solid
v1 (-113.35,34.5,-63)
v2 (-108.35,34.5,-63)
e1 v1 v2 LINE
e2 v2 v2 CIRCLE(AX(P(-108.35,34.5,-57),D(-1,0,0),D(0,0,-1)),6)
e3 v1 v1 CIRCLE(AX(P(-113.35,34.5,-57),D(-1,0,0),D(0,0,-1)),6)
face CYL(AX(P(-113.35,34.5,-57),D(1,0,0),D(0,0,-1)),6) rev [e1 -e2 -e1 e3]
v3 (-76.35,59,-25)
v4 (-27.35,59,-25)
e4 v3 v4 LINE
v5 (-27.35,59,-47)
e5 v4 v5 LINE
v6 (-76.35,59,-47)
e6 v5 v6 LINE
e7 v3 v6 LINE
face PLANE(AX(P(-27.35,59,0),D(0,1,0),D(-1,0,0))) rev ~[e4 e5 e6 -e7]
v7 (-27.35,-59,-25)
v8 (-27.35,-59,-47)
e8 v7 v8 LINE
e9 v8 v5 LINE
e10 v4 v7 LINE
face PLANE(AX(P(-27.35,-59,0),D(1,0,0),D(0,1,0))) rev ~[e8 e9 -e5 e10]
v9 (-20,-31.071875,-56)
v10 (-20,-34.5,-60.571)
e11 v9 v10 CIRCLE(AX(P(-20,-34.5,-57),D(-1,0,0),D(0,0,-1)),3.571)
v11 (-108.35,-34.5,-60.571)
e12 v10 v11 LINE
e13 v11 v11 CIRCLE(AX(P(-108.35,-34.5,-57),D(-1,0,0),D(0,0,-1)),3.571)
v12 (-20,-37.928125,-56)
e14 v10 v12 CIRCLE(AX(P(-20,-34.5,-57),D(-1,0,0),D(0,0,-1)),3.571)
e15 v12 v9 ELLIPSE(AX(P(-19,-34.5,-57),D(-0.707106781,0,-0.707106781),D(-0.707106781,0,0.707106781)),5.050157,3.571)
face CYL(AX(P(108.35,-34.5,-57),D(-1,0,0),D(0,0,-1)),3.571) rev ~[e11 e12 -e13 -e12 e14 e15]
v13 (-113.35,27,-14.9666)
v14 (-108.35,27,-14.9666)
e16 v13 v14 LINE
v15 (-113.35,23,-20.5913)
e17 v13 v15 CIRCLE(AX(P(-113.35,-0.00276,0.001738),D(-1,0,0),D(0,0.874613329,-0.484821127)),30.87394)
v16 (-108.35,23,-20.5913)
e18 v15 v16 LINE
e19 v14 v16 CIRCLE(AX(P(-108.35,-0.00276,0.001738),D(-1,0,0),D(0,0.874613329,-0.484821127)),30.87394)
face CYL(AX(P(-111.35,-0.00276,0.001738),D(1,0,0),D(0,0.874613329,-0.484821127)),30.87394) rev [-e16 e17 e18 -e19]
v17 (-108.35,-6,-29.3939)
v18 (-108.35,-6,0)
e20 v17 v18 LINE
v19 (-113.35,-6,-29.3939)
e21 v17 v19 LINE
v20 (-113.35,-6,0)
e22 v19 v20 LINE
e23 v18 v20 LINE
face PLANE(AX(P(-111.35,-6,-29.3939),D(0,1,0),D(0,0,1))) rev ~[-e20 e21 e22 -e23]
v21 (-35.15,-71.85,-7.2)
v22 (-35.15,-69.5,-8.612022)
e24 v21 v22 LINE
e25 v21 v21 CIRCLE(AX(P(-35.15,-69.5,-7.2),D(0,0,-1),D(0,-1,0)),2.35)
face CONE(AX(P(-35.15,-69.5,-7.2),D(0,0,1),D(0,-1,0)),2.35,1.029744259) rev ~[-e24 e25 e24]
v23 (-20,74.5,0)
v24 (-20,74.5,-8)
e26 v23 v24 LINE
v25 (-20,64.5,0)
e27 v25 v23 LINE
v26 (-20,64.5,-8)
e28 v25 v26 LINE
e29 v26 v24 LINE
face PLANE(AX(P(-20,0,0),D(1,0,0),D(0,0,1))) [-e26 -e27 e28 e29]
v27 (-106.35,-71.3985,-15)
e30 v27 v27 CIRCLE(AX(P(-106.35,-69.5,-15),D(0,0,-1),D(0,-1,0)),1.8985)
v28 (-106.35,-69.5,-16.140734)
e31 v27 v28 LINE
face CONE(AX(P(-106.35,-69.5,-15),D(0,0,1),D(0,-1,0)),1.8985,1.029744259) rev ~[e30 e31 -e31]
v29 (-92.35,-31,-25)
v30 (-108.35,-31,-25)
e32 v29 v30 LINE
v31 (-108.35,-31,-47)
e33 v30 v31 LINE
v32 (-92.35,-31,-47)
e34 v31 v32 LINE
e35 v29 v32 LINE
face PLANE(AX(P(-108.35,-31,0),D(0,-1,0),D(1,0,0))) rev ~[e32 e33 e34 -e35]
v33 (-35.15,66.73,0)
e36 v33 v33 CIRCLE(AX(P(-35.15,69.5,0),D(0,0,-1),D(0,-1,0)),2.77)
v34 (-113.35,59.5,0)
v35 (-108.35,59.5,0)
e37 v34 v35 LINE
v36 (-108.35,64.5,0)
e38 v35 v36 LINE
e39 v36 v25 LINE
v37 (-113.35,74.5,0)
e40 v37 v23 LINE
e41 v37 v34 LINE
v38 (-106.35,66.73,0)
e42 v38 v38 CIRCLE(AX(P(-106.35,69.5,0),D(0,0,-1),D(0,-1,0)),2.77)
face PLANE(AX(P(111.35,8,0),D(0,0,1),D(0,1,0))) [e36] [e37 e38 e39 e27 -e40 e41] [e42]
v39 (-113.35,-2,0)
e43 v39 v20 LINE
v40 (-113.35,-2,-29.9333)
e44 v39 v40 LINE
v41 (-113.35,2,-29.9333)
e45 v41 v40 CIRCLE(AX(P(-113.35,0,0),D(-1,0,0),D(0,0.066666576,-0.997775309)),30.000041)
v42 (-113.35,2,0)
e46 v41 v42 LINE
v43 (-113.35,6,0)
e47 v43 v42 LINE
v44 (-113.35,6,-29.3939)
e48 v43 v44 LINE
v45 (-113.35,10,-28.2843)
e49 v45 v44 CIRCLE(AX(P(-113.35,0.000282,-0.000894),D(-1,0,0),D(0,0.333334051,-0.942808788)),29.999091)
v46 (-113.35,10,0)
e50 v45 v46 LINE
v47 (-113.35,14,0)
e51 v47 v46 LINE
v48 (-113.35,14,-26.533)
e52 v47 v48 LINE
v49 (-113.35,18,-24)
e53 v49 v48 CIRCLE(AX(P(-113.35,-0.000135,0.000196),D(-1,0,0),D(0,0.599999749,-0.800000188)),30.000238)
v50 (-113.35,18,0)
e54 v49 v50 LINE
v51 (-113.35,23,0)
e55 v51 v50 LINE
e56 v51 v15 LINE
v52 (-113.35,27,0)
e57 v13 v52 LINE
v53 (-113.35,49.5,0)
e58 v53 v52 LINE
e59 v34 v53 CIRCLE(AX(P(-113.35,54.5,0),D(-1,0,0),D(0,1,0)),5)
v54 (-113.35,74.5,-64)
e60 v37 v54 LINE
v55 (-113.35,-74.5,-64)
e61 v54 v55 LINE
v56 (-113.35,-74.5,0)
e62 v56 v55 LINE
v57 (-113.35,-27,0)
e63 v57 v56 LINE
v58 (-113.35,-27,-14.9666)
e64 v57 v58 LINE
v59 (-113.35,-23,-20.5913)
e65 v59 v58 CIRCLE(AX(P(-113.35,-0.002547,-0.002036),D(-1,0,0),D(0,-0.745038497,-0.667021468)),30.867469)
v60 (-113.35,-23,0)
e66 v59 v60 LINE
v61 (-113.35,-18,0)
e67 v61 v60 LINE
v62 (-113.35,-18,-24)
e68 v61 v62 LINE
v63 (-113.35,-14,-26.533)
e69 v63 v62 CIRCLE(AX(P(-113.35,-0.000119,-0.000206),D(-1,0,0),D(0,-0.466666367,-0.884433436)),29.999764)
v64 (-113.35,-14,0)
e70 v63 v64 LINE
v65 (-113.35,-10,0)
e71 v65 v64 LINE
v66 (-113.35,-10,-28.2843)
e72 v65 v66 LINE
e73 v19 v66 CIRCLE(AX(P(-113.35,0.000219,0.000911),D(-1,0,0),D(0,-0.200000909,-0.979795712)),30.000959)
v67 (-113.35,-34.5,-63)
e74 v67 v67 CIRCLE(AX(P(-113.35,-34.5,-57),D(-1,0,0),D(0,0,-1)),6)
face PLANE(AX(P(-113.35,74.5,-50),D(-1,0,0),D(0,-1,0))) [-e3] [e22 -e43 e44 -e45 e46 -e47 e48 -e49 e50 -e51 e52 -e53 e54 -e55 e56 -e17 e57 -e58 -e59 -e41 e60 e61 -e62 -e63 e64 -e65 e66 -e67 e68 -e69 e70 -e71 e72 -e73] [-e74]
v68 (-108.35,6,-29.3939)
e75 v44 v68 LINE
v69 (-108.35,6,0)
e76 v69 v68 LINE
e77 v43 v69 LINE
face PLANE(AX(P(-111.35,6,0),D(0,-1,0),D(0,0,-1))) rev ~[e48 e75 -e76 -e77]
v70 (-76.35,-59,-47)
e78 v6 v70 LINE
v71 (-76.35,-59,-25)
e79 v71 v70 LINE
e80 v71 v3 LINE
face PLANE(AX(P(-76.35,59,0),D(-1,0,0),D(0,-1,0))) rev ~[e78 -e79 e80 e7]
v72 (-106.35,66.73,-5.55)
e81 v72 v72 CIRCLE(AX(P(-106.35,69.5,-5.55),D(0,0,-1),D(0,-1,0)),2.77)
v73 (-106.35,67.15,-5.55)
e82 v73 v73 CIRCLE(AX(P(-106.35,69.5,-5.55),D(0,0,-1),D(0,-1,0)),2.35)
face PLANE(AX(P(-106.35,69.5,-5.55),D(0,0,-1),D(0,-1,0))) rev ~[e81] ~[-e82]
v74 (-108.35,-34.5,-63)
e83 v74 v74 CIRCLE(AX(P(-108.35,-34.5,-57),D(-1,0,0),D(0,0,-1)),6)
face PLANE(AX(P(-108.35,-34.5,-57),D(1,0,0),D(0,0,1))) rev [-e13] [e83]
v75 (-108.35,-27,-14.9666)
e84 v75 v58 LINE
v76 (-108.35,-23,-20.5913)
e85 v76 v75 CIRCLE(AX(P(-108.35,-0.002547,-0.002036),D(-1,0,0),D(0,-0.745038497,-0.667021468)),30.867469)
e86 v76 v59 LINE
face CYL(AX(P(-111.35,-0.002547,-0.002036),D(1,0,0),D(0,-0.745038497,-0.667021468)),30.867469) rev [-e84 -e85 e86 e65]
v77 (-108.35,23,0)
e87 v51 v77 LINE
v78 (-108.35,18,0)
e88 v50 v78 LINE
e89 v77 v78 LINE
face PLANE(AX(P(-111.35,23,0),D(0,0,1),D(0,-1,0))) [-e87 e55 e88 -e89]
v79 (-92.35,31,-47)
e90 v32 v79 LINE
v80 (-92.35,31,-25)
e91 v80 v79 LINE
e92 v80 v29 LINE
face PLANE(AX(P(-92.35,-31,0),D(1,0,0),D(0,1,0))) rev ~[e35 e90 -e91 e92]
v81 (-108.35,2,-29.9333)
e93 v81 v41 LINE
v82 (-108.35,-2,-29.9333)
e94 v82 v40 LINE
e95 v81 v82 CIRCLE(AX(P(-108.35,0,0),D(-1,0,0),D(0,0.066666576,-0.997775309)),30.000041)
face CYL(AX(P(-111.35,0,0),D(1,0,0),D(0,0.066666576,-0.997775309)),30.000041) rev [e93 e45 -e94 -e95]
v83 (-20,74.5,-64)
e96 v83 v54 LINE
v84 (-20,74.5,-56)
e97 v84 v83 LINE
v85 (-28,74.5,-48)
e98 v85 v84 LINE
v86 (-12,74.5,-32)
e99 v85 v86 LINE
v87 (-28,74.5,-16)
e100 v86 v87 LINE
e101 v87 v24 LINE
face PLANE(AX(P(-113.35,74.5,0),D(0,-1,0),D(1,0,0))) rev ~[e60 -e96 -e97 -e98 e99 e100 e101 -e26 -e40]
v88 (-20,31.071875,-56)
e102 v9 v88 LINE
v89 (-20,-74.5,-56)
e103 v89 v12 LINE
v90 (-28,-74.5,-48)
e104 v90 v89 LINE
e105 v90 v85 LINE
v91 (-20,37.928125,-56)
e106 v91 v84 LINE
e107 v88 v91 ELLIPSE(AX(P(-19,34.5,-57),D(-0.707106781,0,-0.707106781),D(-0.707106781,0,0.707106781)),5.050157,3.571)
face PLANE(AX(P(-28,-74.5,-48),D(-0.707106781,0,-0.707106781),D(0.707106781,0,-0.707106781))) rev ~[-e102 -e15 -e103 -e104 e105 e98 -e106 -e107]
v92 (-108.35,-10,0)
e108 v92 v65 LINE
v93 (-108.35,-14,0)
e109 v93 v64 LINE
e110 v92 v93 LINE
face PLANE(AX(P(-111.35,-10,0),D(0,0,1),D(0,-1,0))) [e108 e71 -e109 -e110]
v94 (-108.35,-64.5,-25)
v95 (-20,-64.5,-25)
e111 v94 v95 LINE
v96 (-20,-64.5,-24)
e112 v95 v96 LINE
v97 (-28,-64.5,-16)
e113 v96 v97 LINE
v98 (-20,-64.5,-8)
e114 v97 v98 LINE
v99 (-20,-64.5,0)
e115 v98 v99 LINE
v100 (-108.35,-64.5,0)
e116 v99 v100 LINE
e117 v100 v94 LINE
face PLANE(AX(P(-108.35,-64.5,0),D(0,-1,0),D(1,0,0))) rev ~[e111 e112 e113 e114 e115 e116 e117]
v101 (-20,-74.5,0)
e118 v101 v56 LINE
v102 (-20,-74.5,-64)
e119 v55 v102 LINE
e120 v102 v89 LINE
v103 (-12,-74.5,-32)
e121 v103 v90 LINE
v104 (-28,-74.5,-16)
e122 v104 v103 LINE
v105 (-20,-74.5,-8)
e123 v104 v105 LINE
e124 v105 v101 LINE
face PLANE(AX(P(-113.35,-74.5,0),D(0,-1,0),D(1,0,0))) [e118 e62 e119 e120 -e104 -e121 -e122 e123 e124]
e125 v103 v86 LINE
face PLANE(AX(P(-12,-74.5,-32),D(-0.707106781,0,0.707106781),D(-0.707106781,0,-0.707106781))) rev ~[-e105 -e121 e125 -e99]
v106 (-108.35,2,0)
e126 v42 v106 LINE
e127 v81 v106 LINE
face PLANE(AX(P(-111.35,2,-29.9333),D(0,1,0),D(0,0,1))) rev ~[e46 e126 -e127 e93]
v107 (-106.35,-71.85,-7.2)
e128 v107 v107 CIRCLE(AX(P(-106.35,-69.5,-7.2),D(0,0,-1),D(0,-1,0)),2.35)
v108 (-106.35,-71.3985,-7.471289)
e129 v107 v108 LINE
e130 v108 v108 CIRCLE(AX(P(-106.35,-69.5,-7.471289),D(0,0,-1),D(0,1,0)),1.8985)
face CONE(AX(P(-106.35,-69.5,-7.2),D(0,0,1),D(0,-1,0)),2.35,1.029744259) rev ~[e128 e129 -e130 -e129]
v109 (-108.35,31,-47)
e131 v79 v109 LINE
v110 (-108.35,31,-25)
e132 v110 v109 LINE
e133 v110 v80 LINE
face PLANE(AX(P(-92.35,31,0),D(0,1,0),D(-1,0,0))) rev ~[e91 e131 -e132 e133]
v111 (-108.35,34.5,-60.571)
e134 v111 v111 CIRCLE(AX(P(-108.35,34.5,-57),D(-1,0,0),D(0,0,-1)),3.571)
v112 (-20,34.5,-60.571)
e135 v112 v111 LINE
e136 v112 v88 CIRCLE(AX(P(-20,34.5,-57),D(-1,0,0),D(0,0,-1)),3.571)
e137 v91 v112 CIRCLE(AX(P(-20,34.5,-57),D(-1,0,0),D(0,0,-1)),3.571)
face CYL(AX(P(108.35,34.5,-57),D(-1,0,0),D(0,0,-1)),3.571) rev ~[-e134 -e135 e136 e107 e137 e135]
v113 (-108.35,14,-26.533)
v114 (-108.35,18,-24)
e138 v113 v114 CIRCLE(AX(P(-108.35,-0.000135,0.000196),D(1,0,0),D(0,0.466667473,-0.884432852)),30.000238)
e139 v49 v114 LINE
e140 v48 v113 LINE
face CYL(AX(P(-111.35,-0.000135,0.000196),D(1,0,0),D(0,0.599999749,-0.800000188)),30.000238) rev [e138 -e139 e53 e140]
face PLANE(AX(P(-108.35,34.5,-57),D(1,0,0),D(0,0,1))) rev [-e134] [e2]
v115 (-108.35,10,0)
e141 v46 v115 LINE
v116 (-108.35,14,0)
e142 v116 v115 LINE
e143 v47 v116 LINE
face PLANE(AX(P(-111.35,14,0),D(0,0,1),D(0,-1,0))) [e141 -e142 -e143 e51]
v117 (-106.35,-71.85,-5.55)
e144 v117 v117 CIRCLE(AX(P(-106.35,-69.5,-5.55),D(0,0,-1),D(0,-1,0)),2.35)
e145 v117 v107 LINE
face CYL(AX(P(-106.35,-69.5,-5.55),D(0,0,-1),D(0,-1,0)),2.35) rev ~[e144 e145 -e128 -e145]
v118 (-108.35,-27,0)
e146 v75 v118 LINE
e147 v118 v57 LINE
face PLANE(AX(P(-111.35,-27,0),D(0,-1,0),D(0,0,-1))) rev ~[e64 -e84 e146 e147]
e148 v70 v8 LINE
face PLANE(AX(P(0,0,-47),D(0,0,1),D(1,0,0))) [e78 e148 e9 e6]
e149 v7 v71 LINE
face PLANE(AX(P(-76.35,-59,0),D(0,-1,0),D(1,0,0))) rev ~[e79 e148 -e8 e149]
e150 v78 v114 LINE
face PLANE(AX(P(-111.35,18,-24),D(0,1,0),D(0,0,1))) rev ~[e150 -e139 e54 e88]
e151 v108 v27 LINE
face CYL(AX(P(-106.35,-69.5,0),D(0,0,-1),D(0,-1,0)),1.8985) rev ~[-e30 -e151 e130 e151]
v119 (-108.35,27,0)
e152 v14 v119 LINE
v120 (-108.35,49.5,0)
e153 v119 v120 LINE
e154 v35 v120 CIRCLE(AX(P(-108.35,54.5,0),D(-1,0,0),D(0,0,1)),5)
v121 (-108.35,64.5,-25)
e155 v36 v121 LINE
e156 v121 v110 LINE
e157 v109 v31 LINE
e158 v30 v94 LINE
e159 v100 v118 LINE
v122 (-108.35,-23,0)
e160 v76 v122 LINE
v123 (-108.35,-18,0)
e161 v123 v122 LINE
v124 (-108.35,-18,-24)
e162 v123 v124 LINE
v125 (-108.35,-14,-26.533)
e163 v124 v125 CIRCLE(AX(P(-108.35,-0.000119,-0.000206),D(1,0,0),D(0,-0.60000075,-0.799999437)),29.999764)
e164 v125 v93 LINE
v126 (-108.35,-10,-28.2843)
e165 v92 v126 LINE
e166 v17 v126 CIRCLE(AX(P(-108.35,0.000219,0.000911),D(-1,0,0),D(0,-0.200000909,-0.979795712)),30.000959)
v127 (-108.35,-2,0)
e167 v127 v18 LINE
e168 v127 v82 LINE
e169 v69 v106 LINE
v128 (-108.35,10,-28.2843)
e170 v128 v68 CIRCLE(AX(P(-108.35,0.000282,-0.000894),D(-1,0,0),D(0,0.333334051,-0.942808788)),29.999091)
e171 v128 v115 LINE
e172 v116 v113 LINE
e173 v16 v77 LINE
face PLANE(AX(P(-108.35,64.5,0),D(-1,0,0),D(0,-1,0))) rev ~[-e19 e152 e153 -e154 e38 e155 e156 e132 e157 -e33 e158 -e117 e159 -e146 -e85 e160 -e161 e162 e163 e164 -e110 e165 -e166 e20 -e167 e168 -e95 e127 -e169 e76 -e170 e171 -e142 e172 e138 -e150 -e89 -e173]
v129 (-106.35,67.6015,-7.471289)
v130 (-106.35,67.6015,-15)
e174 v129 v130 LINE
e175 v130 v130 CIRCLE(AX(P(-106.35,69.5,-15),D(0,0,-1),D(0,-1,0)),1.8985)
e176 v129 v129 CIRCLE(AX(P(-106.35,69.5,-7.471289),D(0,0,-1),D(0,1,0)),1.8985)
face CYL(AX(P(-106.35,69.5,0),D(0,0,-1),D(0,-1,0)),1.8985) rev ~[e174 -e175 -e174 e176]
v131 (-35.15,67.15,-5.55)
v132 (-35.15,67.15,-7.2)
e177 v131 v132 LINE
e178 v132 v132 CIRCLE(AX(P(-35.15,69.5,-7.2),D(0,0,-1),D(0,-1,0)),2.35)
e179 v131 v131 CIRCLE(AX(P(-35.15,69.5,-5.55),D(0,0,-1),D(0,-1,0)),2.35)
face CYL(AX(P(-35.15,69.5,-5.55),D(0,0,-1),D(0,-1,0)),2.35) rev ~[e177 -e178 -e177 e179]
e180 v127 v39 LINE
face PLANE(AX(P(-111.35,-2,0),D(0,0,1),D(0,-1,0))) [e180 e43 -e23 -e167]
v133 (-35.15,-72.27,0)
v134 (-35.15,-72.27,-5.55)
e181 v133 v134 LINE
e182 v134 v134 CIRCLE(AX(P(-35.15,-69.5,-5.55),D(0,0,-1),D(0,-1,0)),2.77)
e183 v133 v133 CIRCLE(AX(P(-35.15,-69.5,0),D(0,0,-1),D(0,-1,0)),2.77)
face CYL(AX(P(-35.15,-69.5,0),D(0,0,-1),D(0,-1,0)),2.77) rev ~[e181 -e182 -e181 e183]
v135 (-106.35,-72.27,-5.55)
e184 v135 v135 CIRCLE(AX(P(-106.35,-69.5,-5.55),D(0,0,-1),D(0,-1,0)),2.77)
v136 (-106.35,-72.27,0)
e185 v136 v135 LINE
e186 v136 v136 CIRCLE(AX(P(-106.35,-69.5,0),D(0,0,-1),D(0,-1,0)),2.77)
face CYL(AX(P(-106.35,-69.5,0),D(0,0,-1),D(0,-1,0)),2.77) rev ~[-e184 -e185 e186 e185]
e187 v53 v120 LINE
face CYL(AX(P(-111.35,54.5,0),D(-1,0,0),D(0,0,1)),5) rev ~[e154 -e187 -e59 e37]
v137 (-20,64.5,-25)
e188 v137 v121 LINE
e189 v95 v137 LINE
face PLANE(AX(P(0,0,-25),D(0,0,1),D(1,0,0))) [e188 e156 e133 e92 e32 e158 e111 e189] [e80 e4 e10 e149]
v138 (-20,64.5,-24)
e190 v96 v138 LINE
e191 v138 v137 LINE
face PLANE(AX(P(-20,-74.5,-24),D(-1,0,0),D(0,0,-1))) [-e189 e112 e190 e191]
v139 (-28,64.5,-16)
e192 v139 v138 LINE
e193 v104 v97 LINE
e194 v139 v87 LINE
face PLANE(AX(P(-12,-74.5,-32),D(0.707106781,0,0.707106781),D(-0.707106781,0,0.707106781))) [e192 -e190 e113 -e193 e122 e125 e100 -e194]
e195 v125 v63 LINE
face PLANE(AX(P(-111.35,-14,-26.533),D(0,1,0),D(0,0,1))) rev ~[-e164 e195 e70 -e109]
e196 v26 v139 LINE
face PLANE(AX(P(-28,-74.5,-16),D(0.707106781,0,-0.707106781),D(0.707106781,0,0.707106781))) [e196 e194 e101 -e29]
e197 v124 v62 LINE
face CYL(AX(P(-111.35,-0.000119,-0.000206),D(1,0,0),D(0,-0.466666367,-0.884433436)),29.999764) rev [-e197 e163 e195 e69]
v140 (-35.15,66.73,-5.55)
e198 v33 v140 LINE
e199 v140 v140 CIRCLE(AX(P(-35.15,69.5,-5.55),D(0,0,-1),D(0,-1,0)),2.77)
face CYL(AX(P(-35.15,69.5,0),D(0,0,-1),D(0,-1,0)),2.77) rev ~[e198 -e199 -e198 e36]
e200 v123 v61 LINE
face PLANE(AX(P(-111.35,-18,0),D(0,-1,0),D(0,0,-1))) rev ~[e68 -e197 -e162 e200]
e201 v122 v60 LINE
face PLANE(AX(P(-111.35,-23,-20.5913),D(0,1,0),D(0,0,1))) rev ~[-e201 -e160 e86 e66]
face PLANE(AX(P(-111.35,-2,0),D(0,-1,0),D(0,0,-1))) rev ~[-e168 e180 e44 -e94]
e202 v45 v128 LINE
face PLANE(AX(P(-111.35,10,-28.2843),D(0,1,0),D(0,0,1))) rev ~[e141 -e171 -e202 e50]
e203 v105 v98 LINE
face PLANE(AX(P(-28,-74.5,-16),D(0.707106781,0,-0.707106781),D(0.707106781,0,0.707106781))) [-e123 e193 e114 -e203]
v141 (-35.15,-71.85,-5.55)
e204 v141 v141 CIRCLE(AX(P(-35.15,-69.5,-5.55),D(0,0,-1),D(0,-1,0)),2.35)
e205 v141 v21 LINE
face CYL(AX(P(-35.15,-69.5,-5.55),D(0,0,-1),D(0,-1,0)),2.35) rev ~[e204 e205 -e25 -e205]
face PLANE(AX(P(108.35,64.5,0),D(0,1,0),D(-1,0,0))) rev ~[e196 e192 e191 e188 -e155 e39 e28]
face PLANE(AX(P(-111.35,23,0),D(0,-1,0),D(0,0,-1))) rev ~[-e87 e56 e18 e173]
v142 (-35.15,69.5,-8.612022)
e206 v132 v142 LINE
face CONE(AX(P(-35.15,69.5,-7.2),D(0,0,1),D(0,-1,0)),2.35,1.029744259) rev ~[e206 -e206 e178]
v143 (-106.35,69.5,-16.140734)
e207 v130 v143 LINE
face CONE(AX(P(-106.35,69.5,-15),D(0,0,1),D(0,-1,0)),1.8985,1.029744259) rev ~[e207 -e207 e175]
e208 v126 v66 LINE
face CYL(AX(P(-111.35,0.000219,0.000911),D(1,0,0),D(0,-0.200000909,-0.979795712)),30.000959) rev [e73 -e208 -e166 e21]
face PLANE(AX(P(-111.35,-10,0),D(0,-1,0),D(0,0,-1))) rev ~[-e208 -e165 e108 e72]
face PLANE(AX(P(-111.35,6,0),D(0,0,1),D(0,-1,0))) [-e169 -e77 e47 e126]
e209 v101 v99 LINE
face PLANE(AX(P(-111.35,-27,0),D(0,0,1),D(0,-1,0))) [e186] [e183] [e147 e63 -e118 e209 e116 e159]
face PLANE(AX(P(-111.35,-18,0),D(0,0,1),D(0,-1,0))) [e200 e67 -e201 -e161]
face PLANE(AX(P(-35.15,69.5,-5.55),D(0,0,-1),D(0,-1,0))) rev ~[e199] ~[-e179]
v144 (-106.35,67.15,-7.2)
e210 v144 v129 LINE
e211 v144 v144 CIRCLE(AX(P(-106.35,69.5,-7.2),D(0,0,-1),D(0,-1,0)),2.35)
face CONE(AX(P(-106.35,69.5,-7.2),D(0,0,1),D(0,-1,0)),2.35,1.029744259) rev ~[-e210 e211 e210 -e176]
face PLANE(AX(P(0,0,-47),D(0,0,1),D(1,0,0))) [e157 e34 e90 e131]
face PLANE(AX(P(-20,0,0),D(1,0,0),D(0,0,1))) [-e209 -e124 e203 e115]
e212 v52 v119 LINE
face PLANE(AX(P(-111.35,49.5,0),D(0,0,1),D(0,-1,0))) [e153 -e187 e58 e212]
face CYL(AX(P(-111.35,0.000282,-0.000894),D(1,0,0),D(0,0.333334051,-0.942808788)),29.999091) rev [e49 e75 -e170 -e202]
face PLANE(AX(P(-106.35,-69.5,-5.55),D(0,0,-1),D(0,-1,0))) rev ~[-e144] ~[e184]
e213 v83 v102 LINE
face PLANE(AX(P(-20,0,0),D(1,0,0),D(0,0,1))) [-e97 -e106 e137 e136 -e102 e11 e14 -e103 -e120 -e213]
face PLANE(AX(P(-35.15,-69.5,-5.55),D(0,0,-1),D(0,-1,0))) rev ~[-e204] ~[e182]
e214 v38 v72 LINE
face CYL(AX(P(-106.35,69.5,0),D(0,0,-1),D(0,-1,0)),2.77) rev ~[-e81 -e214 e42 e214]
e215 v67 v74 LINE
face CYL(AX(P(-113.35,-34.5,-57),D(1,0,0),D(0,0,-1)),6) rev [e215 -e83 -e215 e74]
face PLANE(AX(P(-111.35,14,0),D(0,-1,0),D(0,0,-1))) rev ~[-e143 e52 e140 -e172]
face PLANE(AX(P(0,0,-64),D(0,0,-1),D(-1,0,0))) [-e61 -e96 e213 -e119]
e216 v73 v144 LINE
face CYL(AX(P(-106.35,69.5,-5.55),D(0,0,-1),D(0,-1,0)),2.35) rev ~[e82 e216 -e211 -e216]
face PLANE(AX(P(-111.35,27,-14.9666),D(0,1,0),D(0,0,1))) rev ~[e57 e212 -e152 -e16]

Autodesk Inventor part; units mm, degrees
ref_plane "XZ Plane" through (0, 0, 0) normal (0, 1, 0) x (-1, 0, 0)
ref_plane "XY Plane" through (0, 0, 0) normal (0, 0, 1) x (1, 0, 0)
sketch "Sketch1" plane through (0, 0, 0) normal (0, 0, 1) x (1, 0, 0)
  line L0 (-111.35, -74.5) -> (111.35, -74.5)
  line L1 (111.35, -74.5) -> (111.35, 74.5)
  line L2 (111.35, 74.5) -> (-111.35, 74.5)
  line L3 (-111.35, 74.5) -> (-111.35, -74.5)
  line L4 (-111.35, -74.5) -> (111.35, 74.5) construction
  line L5 (111.35, -74.5) -> (-111.35, 74.5) construction
  point P0 (0, 0)
  dimension "d0" = 222.7
  dimension "d1" = 149
extrude "MainInnerBodyExtrusion" add sketch "Sketch1" against normal blind 50
sketch "Sketch3" plane through (0, 0, 0) normal (0, 0, 1) x (1, 0, 0)
  line L0 (36.65, -27) -> (95.65, -27)
  line L1 (95.65, -27) -> (95.65, 27)
  line L2 (95.65, 27) -> (36.65, 27)
  line L3 (36.65, 27) -> (36.65, -27)
  line L4 (36.65, -27) -> (95.65, 27) construction
  line L5 (95.65, -27) -> (36.65, 27) construction
  line L6 (111.35, -74.5) -> (111.35, 74.5) projected
  line L7 (0, 0) -> (111.35, 0) construction
  line L8 (-111.35, -74.5) -> (-111.35, 74.5) construction
  line L9 (-111.35, 74.5) -> (-111.35, -74.5) projected
  point P0 (66.15, 0)
  point P1 (66.15, 0)
  dimension "d5" = 15.7
  dimension "d6" = 54
  dimension "d7" = 59
extrude "HoleForCamerabase" cut sketch "Sketch3" against normal blind 47
sketch "Sketch4" plane through (0, 0, 0) normal (0, 0, 1) x (1, 0, 0)
  line L0 (0, 0) -> (-111.35, 0) construction
  line L1 (-111.35, -74.5) -> (-111.35, 74.5) construction
  line L2 (-108.35, -31) -> (-92.35, -31)
  line L3 (-92.35, -31) -> (-92.35, 31)
  line L4 (-92.35, 31) -> (-108.35, 31)
  line L5 (-108.35, 31) -> (-108.35, -31)
  line L6 (-108.35, -31) -> (-92.35, 31) construction
  line L7 (-92.35, -31) -> (-108.35, 31) construction
  point P0 (-100.35, 0)
  dimension "d13" = 16
  dimension "d14" = 62
  dimension "d15" = 3
extrude "HoleForFan" cut sketch "Sketch4" against normal blind 47
sketch "Sketch6" plane through (0, 0, 0) normal (0, 0, 1) x (1, 0, 0)
  line L0 (-111.35, -74.5) -> (-111.35, 74.5) construction
  line L1 (-111.35, 0) -> (111.35, 0) construction
  line L2 (111.35, 74.5) -> (111.35, -74.5) construction
  line L3 (-11.35, -64.5) -> (20.65, -64.5)
  line L4 (20.65, -64.5) -> (20.65, 64.5)
  line L5 (20.65, 64.5) -> (-11.35, 64.5)
  line L6 (-11.35, 64.5) -> (-11.35, -64.5)
  line L7 (-11.35, -64.5) -> (20.65, 64.5) construction
  line L8 (20.65, -64.5) -> (-11.35, 64.5) construction
  line L9 (36.65, -27) -> (36.65, 27) projected
  point P0 (0, 0)
  point P1 (4.65, 0)
  dimension "d20" = 32
  dimension "d21" = 129
  dimension "d88" = 16
extrude "HoleForPi" cut sketch "Sketch6" against normal blind 47
sketch "Sketch7" plane through (0, 0, 0) normal (0, 0, 1) x (1, 0, 0)
  line L0 (0, 0) -> (-111.35, 0) construction
  line L1 (-111.35, 74.5) -> (-111.35, -74.5) construction
  line L2 (-76.35, -59) -> (-27.35, -59)
  line L3 (-27.35, -59) -> (-27.35, 59)
  line L4 (-27.35, 59) -> (-76.35, 59)
  line L5 (-76.35, 59) -> (-76.35, -59)
  line L6 (-76.35, -59) -> (-27.35, 59) construction
  line L7 (-27.35, -59) -> (-76.35, 59) construction
  line L8 (-11.35, -64.5) -> (-11.35, 64.5) projected
  line L9 (-92.35, 31) -> (-92.35, -31) construction
  point P0 (-51.85, 0)
  dimension "d25" = 16
  dimension "d26" = 49
  dimension "d27" = 118
extrude "HoleForPoeAdapter" cut sketch "Sketch7" against normal blind 47
sketch "Sketch10" plane through (0, 0, 0) normal (0, 0, 1) x (1, 0, 0)
  line L0 (39.35, 36.5) -> (108.35, 36.5)
  line L1 (108.35, 36.5) -> (108.35, 64.5)
  line L2 (108.35, 64.5) -> (39.35, 64.5)
  line L3 (39.35, 64.5) -> (39.35, 36.5)
  line L4 (39.35, 36.5) -> (108.35, 64.5) construction
  line L5 (108.35, 36.5) -> (39.35, 64.5) construction
  line L6 (111.35, 74.5) -> (-111.35, 74.5) projected
  line L7 (111.35, -74.5) -> (111.35, 74.5) projected
  point P0 (0, 0)
  point P1 (73.85, 50.5)
  point P2 (94.85, 8.5)
  point P3 (108.35, 50.5)
  dimension "d36" = 69
  dimension "d37" = 28
  dimension "d85" = 3
extrude "HoleForThermister" cut sketch "Sketch10" against normal blind 47
sketch "Sketch11" plane through (0, 0, 0) normal (0, 0, 1) x (1, 0, 0)
  line L0 (58.35, -64.5) -> (108.35, -64.5)
  line L1 (108.35, -64.5) -> (108.35, -47.5)
  line L2 (108.35, -47.5) -> (58.35, -47.5)
  line L3 (58.35, -47.5) -> (58.35, -64.5)
  line L4 (58.35, -64.5) -> (108.35, -47.5) construction
  line L5 (108.35, -64.5) -> (58.35, -47.5) construction
  line L6 (111.35, -74.5) -> (111.35, 74.5) projected
  line L7 (-111.35, -74.5) -> (111.35, -74.5) projected
  line L8 (95.65, -27) -> (36.65, -27) projected
  line L9 (20.65, 64.5) -> (20.65, -64.5) projected
  point P0 (0, 0)
  point P1 (83.35, -56)
  point P2 (94.85, -8.5)
  point P3 (83.35, -47.5)
  point P4 (58.35, -56)
  point P5 (111.35, 74.5)
  dimension "d42" = 50
  dimension "d43" = 17
  dimension "d86" = 3
  dimension "d87" = 10
extrude "HoleForSensor" cut sketch "Sketch11" against normal blind 31.5
sketch "Sketch15" plane through (-111.35, -74.5, 0) normal (-1, 0, 0) x (0, 0, 1)
  line L0 (0, 149) -> (0, 0) projected
  line L1 (0, 149) -> (-50, 149) projected
  line L2 (-50, 0) -> (-50, 149) projected
  line L3 (0, 0) -> (-50, 0) projected
  line L4 (0, 0) -> (0, 149) projected
  line L5 (0, 101.5) -> (0, 47.5) projected
  line L6 (0, 74.5) -> (-30, 74.5) construction
  line L7 (0, 76.5) -> (-29.9333, 76.5)
  line L8 (0, 84.5) -> (-28.2843, 84.5)
  line L9 (0, 80.5) -> (-29.3939, 80.5)
  line L10 (0, 76.5) -> (0, 74.5)
  line L11 (0, 88.5) -> (-26.533, 88.5)
  line L12 (0, 92.5) -> (-24, 92.5)
  line L13 (-20.5913, 97.5) -> (0, 97.5)
  line L14 (-14.9666, 101.5) -> (0, 101.5)
  line L15 (0, 84.5) -> (0, 80.5)
  line L16 (0, 101.5) -> (0, 97.5)
  line L17 (0, 92.5) -> (0, 88.5)
  line L18 (0, 72.5) -> (-29.9333, 72.5)
  line L19 (0, 64.5) -> (-28.2843, 64.5)
  line L20 (0, 68.5) -> (-29.3939, 68.5)
  line L21 (0, 72.5) -> (0, 74.5)
  line L22 (0, 60.5) -> (-26.533, 60.5)
  line L23 (0, 56.5) -> (-24, 56.5)
  line L24 (-20.5913, 51.5) -> (0, 51.5)
  line L25 (-14.9666, 47.5) -> (0, 47.5)
  line L26 (0, 64.5) -> (0, 68.5)
  line L27 (0, 56.5) -> (0, 60.5)
  line L28 (0, 47.5) -> (0, 51.5)
  line L29 (0, 72.5) -> (0, 76.5)
  line L30 (0, 80.5) -> (0, 84.5)
  line L31 (0, 88.5) -> (0, 92.5)
  line L32 (0, 97.5) -> (0, 149)
  arc A0 (-28.2843, 84.5) -> (-29.3939, 80.5) centre (0, 74.5) ccw
  arc A1 (-14.9666, 101.5) -> (-20.5913, 97.5) centre (0, 74.5) ccw
  arc A2 (-24, 92.5) -> (-26.533, 88.5) centre (0, 74.5) ccw
  arc A3 (-29.9333, 76.5) -> (-29.9333, 72.5) centre (0, 74.5) ccw
  arc A4 (-29.3939, 68.5) -> (-28.2843, 64.5) centre (0, 74.5) ccw
  arc A5 (-26.533, 60.5) -> (-24, 56.5) centre (0, 74.5) ccw
  arc A6 (-20.5913, 51.5) -> (-14.9666, 47.5) centre (0, 74.5) ccw
  point P0 (0, 82)
  point P1 (0, 67.0167)
  point P2 (0, 4.25)
  point P3 (-10.2956, 97.5)
  point P4 (0, 47.5)
  point P5 (0, 51.5)
  point P6 (0, 56.5)
  point P7 (0, 60.5)
  point P8 (0, 64.5)
  point P9 (0, 68.5)
  point P10 (0, 72.5)
  point P11 (0, 80.5)
  point P12 (0, 84.5)
  point P13 (0, 88.5)
  point P14 (0, 92.5)
  point P15 (0, 97.5)
  point P16 (0, 101.5)
  dimension "d69" = 2
  dimension "d71" = 4
  dimension "d72" = 4
  dimension "d73" = 4
  dimension "d75" = 4
  dimension "d142" = 30
extrude "SlotsForRearFan" cut sketch "Sketch15" against normal up to surface (3 mm away) contours L0 L13 A1 L14 | L0 L11 A2 L12 | L25 A6 L24 L0 | L0 L9 A0 L8 | L23 A5 L22 L0 | L0 L18 A3 L7 | L19 A4 L20 L0
sketch "Sketch16" plane through (0, 0, -47) normal (0, 0, 1) x (1, 0, 0)
  line L0 (95.65, 27) -> (95.65, -27) projected
  line L1 (80.15, 10.765) -> (80.15, -11.235) construction
  line L2 (78.65, 10.765) -> (78.65, -11.235)
  line L3 (75.65, -11.235) -> (75.65, 10.765)
  line L4 (72.65, 8.7746) -> (72.65, -9.2446)
  line L5 (69.65, 3.5785) -> (69.65, -4.0485)
  line L6 (81.65, 10.765) -> (81.65, -11.235)
  line L7 (84.65, -11.235) -> (84.65, 10.765)
  line L8 (87.65, 8.7746) -> (87.65, -9.2446)
  line L9 (90.65, 3.5785) -> (90.65, -4.0485)
  line L10 (73.7991, 10.765) -> (75.65, 10.765)
  line L11 (75.65, -11.235) -> (73.7991, -11.235)
  line L12 (73.7991, -11.235) -> (72.65, -9.2446)
  line L13 (69.65, -4.0485) -> (67.4483, -0.235)
  line L14 (67.4483, -0.235) -> (69.65, 3.5785)
  line L15 (72.65, 8.7746) -> (73.7991, 10.765)
  line L16 (78.65, 10.765) -> (81.65, 10.765)
  line L17 (84.65, 10.765) -> (86.5009, 10.765)
  line L18 (86.5009, -11.235) -> (84.65, -11.235)
  line L19 (81.65, -11.235) -> (78.65, -11.235)
  line L20 (92.8517, -0.235) -> (90.65, -4.0485)
  line L21 (87.65, -9.2446) -> (86.5009, -11.235)
  line L22 (86.5009, 10.765) -> (87.65, 8.7746)
  line L23 (90.65, 3.5785) -> (92.8517, -0.235)
  point P0 (0, 0)
  point P1 (80.15, -0.235)
  point P2 (69.65, -0.235)
  dimension "d78" = 15.5
  dimension "d89" = 1.5
  dimension "d90" = 3
  dimension "d91" = 3
  dimension "d92" = 3
extrude "VentForCamera" cut sketch "Sketch16" against normal through all
sketch "Sketch18" plane through (111.35, -74.5, 0) normal (1, 0, 0) x (0, 0, -1)
  line L0 (0, 74.5) -> (29.6767, 74.5) construction
  arc A0 (24, 66.5) -> (24, 82.5) centre (24, 74.5) ccw
  line L1 (0, 0) -> (0, 149) projected
  line L2 (24, 82.5) -> (0, 82.5)
  line L3 (24, 66.5) -> (0, 66.5)
  line L4 (0, 82.5) -> (0, 66.5)
  point P0 (0, 74.5)
  dimension "d97" = 16
  dimension "d137" = 24
extrude "HoleForLens" cut sketch "Sketch18" against normal up to surface (15.7 mm away)
sketch "Sketch23" plane through (0, 0, 0) normal (0, 0, 1) x (1, 0, 0)
  line L0 (-106.35, -69.5) -> (106.35, -69.5) construction
  line L1 (106.35, -69.5) -> (106.35, 69.5) construction
  line L2 (106.35, 69.5) -> (-106.35, 69.5) construction
  line L3 (-106.35, 69.5) -> (-106.35, -69.5) construction
  line L4 (-106.35, -69.5) -> (106.35, 69.5) construction
  line L5 (106.35, -69.5) -> (-106.35, 69.5) construction
  line L6 (111.35, -74.5) -> (111.35, -8) projected
  line L7 (111.35, 74.5) -> (-111.35, 74.5) projected
  line L8 (-111.35, -27) -> (-111.35, -74.5) projected
  line L9 (-111.35, 74.5) -> (-111.35, 27) projected
  line L10 (111.35, 8) -> (111.35, 74.5) projected
  point P0 (0, 0)
  point P1 (35.15, -69.5)
  point P2 (-35.15, -69.5)
  point P3 (-35.15, 69.5)
  point P4 (35.15, 69.5)
  dimension "d106" = 5
  dimension "d108" = 5
  dimension "d222" = 76.2
  dimension "d223" = 76.2
  dimension "d224" = 76.2
  dimension "d225" = 76.2
hole "Hole for 6-32 Insert" at (-106.35, 69.5, 0) at (106.35, 69.5, 0) at (106.35, -69.5, 0) at (-106.35, -69.5, 0) at (-35.15, -69.5, 0) at (35.15, -69.5, 0) at (-35.15, 69.5, 0) at (35.15, 69.5, 0) direction (0, 0, -1) diameter 4.7 depth 7.2 tip angle 118 counterbore diameter 5.54 counterbore depth 5.55
hole "Screw hole for 6-32 screw" at (-106.35, -69.5, 0) at (106.35, -69.5, 0) at (106.35, 69.5, 0) at (-106.35, 69.5, 0) direction (0, 0, -1) diameter 3.797 depth 15 tip angle 118 clearance for "Hex Machine Screw" size "#6" standard "Ansi Unified Screw Threads"
sketch "Sketch24" plane through (-111.35, -74.5, 0) normal (0, -1, 0) x (1, 0, 0)
  line L0 (0, -50) -> (222.7, -50) construction
  line L1 (222.7, 0) -> (207, 0) construction
  line L2 (0, 0) -> (0, -50) projected
  line L3 (111.3501, -25) -> (0, -25) construction
  line L4 (111.3501, -25) -> (222.7, -24.84) construction
  line L5 (222.7, 0) -> (222.7, -50) construction
  point P0 (111.35, 0)
  dimension "d226" = 25
  dimension "d227" = 111.3501
hole "Side hole for 1-4 20 insert" at (0.0001, -74.5, -25) direction (0, 1, 0) diameter 7.666 depth 9.53 tip angle 118 counterbore diameter 8.406 counterbore depth 7.41 clearance for "Hex Machine Screw" size "1/4" standard "Ansi Unified Screw Threads"
mirror "Mirror for side insert" about plane through (0, 0, 0) normal (0, 1, 0) of "Side hole for 1-4 20 insert"
sketch "Sketch25" plane through (0, 0, 0) normal (0, 0, 1) x (1, 0, 0)
  line L0 (111.35, 74.5) -> (-111.35, 74.5) projected
  line L1 (-111.35, 74.5) -> (-111.35, 27) projected
  line L2 (-111.35, -74.5) -> (111.35, -74.5) projected
  line L3 (81.65, -11.235) -> (78.65, -11.235) projected
  line L4 (78.65, -11.235) -> (78.65, 10.765) projected
  line L5 (78.65, 10.765) -> (81.65, 10.765) projected
  line L6 (81.65, 10.765) -> (81.65, -11.235) projected
  line L7 (73.7991, 10.765) -> (75.65, 10.765) projected
  line L8 (75.65, 10.765) -> (75.65, -11.235) projected
  line L9 (75.65, -11.235) -> (73.7991, -11.235) projected
  line L10 (73.7991, -11.235) -> (72.65, -9.2446) projected
  line L11 (72.65, -9.2446) -> (72.65, 8.7746) projected
  line L12 (72.65, 8.7746) -> (73.7991, 10.765) projected
  line L13 (87.65, 8.7746) -> (87.65, -9.2446) projected
  line L14 (87.65, -9.2446) -> (86.5009, -11.235) projected
  line L15 (86.5009, -11.235) -> (84.65, -11.235) projected
  line L16 (84.65, -11.235) -> (84.65, 10.765) projected
  line L17 (84.65, 10.765) -> (86.5009, 10.765) projected
  line L18 (86.5009, 10.765) -> (87.65, 8.7746) projected
  line L19 (69.65, 3.5785) -> (69.65, -4.0485) projected
  line L20 (69.65, -4.0485) -> (67.4483, -0.235) projected
  line L21 (67.4483, -0.235) -> (69.65, 3.5785) projected
  line L22 (92.8517, -0.235) -> (90.65, -4.0485) projected
  line L23 (90.65, -4.0485) -> (90.65, 3.5785) projected
  line L24 (90.65, 3.5785) -> (92.8517, -0.235) projected
  line L25 (95.65, 27) -> (95.65, -27) projected
  line L26 (36.65, 27) -> (95.65, 27) projected
  line L27 (36.65, -27) -> (36.65, 27) projected
  line L28 (95.65, -27) -> (36.65, -27) projected
  line L29 (111.35, -74.5) -> (111.35, -8) projected
  line L30 (111.35, 8) -> (111.35, 74.5) projected
  line L31 (-108.35, -64.5) -> (108.35, -64.5)
  line L32 (108.35, -64.5) -> (108.35, 64.5)
  line L33 (108.35, 64.5) -> (-108.35, 64.5)
  line L34 (-108.35, 64.5) -> (-108.35, -64.5)
  line L35 (-108.35, -64.5) -> (108.35, 64.5) construction
  line L36 (108.35, -64.5) -> (-108.35, 64.5) construction
  line L37 (-27.35, 59) -> (-27.35, -59) projected
  point P0 (0, 0)
  dimension "d138" = 10
  dimension "d139" = 3
extrude "Extrusion18" cut sketch "Sketch25" against normal blind 25 contours L34 L33 L32 L31
sketch "Sketch26" plane through (-111.35, -74.5, -50) normal (-1, 0, 0) x (0, 0, 1)
  arc A0 (50, 124) -> (50, 134) centre (50, 129) ccw
  circle A1 centre (50, 129) radius 5
  point P0 (50, 74.5)
  point P1 (50, 124)
extrude "HoleForPowerWire" cut sketch "Sketch26" against normal up to surface (3 mm away)
sketch "Sketch37" plane through (-111.35, -74.5, -50) normal (-1, 0, 0) x (0, 0, 1)
  arc A0 (50, 134) -> (50, 124) centre (50, 129) ccw projected
  line L0 (50, 149) -> (50, 134) projected
  line L1 (50, 149) -> (0, 149) projected
  line L2 (0, 0) -> (0, 149) projected
  line L3 (50, 0) -> (0, 0) projected
  line L4 (50, 47.5) -> (50, 0) projected
  line L5 (50, 47.5) -> (35.0334, 47.5) projected
  arc A1 (29.4087, 51.5) -> (35.0334, 47.5) centre (50, 74.5) ccw projected
  line L6 (29.4087, 51.5) -> (50, 51.5) projected
  line L7 (50, 56.5) -> (50, 51.5) projected
  line L8 (50, 56.5) -> (26, 56.5) projected
  arc A2 (23.467, 60.5) -> (26, 56.5) centre (50, 74.5) ccw projected
  line L9 (23.467, 60.5) -> (50, 60.5) projected
  line L10 (50, 64.5) -> (50, 60.5) projected
  line L11 (50, 64.5) -> (21.7157, 64.5) projected
  arc A3 (20.6061, 68.5) -> (21.7157, 64.5) centre (50, 74.5) ccw projected
  line L12 (20.6061, 68.5) -> (50, 68.5) projected
  line L13 (50, 72.5) -> (50, 68.5) projected
  line L14 (50, 72.5) -> (20.0667, 72.5) projected
  arc A4 (20.0667, 76.5) -> (20.0667, 72.5) centre (50, 74.5) ccw projected
  line L15 (20.0667, 76.5) -> (50, 76.5) projected
  line L16 (50, 80.5) -> (50, 76.5) projected
  line L17 (50, 80.5) -> (20.6061, 80.5) projected
  arc A5 (21.7157, 84.5) -> (20.6061, 80.5) centre (50, 74.5) ccw projected
  line L18 (21.7157, 84.5) -> (50, 84.5) projected
  line L19 (50, 88.5) -> (50, 84.5) projected
  line L20 (50, 88.5) -> (23.467, 88.5) projected
  arc A6 (26, 92.5) -> (23.467, 88.5) centre (50, 74.5) ccw projected
  line L21 (26, 92.5) -> (50, 92.5) projected
  line L22 (50, 97.5) -> (50, 92.5) projected
  line L23 (50, 97.5) -> (29.4087, 97.5) projected
  arc A7 (35.0334, 101.5) -> (29.4087, 97.5) centre (50, 74.5) ccw projected
  line L24 (35.0334, 101.5) -> (50, 101.5) projected
  line L25 (50, 124) -> (50, 101.5) projected
  line L26 (0, 149) -> (50, 149)
  line L27 (50, 149) -> (50, 0)
  line L28 (50, 0) -> (0, 0)
  line L29 (0, 0) -> (0, 149)
extrude "Extrusion22" add sketch "Sketch37" along normal blind 2 contours A0 L25 L24 A7 L23 L22 L21 A6 L20 L19 L18 A5 L17 L16 L15 A4 L14 L13 L12 A3 L11 L10 L9 A2 L8 L7 L6 A1 L5 L4 L3 L2 L1 L0
sketch "Sketch38" plane through (111.35, -74.5, -50) normal (1, 0, 0) x (0, 0, -1)
  line L0 (-50, 82.5) -> (-50, 149) projected
  line L1 (-50, 0) -> (0, 0) projected
  line L2 (0, 149) -> (0, 0) projected
  line L3 (-50, 149) -> (0, 149) projected
  line L4 (-50, 0) -> (-50, 66.5) projected
  arc A0 (-50, 65.1192) -> (-50, 83.8808) centre (-29, 74.5) ccw projected
  line L5 (-26, 66.5) -> (-50, 66.5) projected
  arc A1 (-26, 66.5) -> (-26, 82.5) centre (-26, 74.5) ccw projected
  line L6 (-50, 82.5) -> (-26, 82.5) projected
  line L7 (-26, 66.5) -> (-50, 66.5) projected
  line L8 (-50, 82.5) -> (-26, 82.5) projected
  arc A2 (-26, 66.5) -> (-26, 82.5) centre (-26, 74.5) ccw projected
  point P0 (-50, 74.5)
extrude "Extrusion23" add sketch "Sketch38" along normal blind 2
sketch "Sketch39" plane through (0, 0, -50) normal (0, 0, -1) x (-1, 0, 0)
  line L0 (-78.65, -11.235) -> (-81.65, -11.235) projected
  line L1 (-81.65, -11.235) -> (-81.65, 10.765) projected
  line L2 (-81.65, 10.765) -> (-78.65, 10.765) projected
  line L3 (-78.65, 10.765) -> (-78.65, -11.235) projected
  line L4 (-75.65, 10.765) -> (-73.7991, 10.765) projected
  line L5 (-73.7991, 10.765) -> (-72.65, 8.7746) projected
  line L6 (-72.65, 8.7746) -> (-72.65, -9.2446) projected
  line L7 (-72.65, -9.2446) -> (-73.7991, -11.235) projected
  line L8 (-73.7991, -11.235) -> (-75.65, -11.235) projected
  line L9 (-75.65, -11.235) -> (-75.65, 10.765) projected
  line L10 (-87.65, -9.2446) -> (-87.65, 8.7746) projected
  line L11 (-87.65, 8.7746) -> (-86.5009, 10.765) projected
  line L12 (-86.5009, 10.765) -> (-84.65, 10.765) projected
  line L13 (-84.65, 10.765) -> (-84.65, -11.235) projected
  line L14 (-84.65, -11.235) -> (-86.5009, -11.235) projected
  line L15 (-86.5009, -11.235) -> (-87.65, -9.2446) projected
  line L16 (-69.65, -4.0485) -> (-69.65, 3.5785) projected
  line L17 (-69.65, 3.5785) -> (-67.4483, -0.235) projected
  line L18 (-67.4483, -0.235) -> (-69.65, -4.0485) projected
  line L19 (-90.65, -4.0485) -> (-92.8517, -0.235) projected
  line L20 (-92.8517, -0.235) -> (-90.65, 3.5785) projected
  line L21 (-90.65, 3.5785) -> (-90.65, -4.0485) projected
  line L22 (113.35, -74.5) -> (-113.35, -74.5) projected
  line L23 (113.35, 74.5) -> (113.35, -74.5) projected
  line L24 (-113.35, 74.5) -> (113.35, 74.5) projected
  line L25 (-113.35, -74.5) -> (-113.35, 74.5) projected
  line L26 (113.35, -74.5) -> (-113.35, -74.5) projected
  line L27 (-113.35, 74.5) -> (113.35, 74.5)
  line L28 (113.35, 74.5) -> (113.35, -74.5)
  line L29 (113.35, -74.5) -> (-113.35, -74.5)
  line L30 (-113.35, -74.5) -> (-113.35, 74.5)
  point P0 (0, 0)
extrude "ExtrusionForBottom" add sketch "Sketch39" along normal blind 14
sketch "Sketch40" plane through (113.35, -74.5, -50) normal (1, 0, 0) x (0, 0, -1)
  line L0 (-50, 0) -> (14, 0) construction
  line L1 (7, 0) -> (7, 149) construction
  line L2 (-50, 149) -> (14, 149) construction
  line L3 (14, 149) -> (14, 0) construction
  point P0 (-50, 74.5)
  point P1 (7, 40)
  point P2 (7, 109)
  dimension "d234" = 7
  dimension "d235" = 40
  dimension "d236" = 40
hole "1-4 holesToBoltFixture" at (113.35, -34.5, -57) at (113.35, 34.5, -57) direction (-1, 0, 0) diameter 7.142 end through all counterbore diameter 12 counterbore depth 5 clearance for "Hex Machine Screw" size "1/4" standard "Ansi Unified Screw Threads"
ref_plane "Work Plane1" through (30, 0, 0) normal (1, 0, 0) x (0, 1, 0)
ref_plane "Work Plane2" through (-20, 0, 0) normal (1, 0, 0) x (0, 1, 0)
mirror "Mirror4" about plane through (0, 0, 0) normal (1, 0, 0) of "1-4 holesToBoltFixture"
sketch "Sketch43" plane through (113.35, -74.5, -50) normal (1, 0, 0) x (0, 0, -1)
  circle A0 centre (7, 40) radius 6 projected
  circle A1 centre (7, 109) radius 6 projected
  line L0 (-50, 66.5) -> (-50, 0) projected
  line L1 (-50, 0) -> (14, 0) projected
  line L2 (14, 149) -> (14, 0) projected
  line L3 (-50, 149) -> (14, 149) projected
  line L4 (-50, 149) -> (-50, 82.5) projected
  line L5 (-50, 82.5) -> (-26, 82.5) projected
  arc A2 (-26, 66.5) -> (-26, 82.5) centre (-26, 74.5) ccw projected
  line L6 (-26, 66.5) -> (-50, 66.5) projected
  circle A3 centre (-29, 74.5) radius 26.125
  circle A4 centre (-29, 74.5) radius 23.5
  point P0 (-50, 74.5)
  point P1 (-50, 85.0475)
  point P2 (-50, 63.9525)
  point P3 (-50, 58.9592)
  point P4 (-50, 90.0408)
  dimension "d255" = 21
  dimension "d256" = 52.25
  dimension "d257" = 47
extrude "CutOutForFilter" cut sketch "Sketch43" against normal blind 2.25 contours A4 L4 A3 L0 picked at (-35.0652, 51.0112)
sketch "Sketch47" plane through (113.35, -74.5, -50) normal (1, 0, 0) x (0, 0, -1)
  arc A0 (-50, 58.9592) -> (-50, 90.0408) centre (-29, 74.5) ccw projected
  line L0 (-50, 58.9592) -> (-50, 0) projected
  line L1 (-50, 0) -> (14, 0) projected
  line L2 (14, 149) -> (14, 0) projected
  line L3 (-50, 149) -> (14, 149) projected
  line L4 (-50, 149) -> (-50, 90.0408) projected
  circle A1 centre (7, 40) radius 6 projected
  circle A2 centre (7, 109) radius 6 projected
  line L5 (-13, 149) -> (-13, 0) construction
  line L6 (-50, 0) -> (14, 0) construction
  point P0 (-50, 74.5)
  point P1 (-13, 144)
  point P2 (-13, 5)
  dimension "d293" = 27
  dimension "d294" = 5
  dimension "d295" = 5
hole "Hole13" at (113.35, 69.5, -37) at (113.35, -69.5, -37) direction (-1, 0, 0) diameter 4.699 depth 7.1374 counterbore diameter 4.8514 counterbore depth 5.5524
split "Split5" plane through (-20, 0, 0) removes the side toward (1, 0, 0)
sketch "Sketch46" plane through (-113.35, -74.5, 0) normal (0, -1, 0) x (1, 0, 0)
  line L0 (0, 0) -> (93.35, 0) projected
  line L1 (0, 0) -> (0, -64) projected
  line L2 (93.35, -64) -> (0, -64) projected
  line L3 (143.35, 12.8) -> (143.35, -76.8) projected
  line L4 (93.35, 12.8) -> (93.35, -76.8) projected
  line L5 (226.7, -24) -> (226.7, -32) construction
  line L6 (0, -32) -> (226.7, -32) construction
  line L7 (135.35, -32) -> (151.35, -16)
  line L8 (151.35, -16) -> (143.35, -8)
  line L9 (135.35, -32) -> (151.35, -48)
  line L10 (151.35, -48) -> (143.35, -56)
  line L11 (143.35, -8) -> (143.35, -56)
  line L12 (101.35, -32) -> (85.35, -16)
  line L13 (85.35, -16) -> (93.35, -8)
  line L14 (101.35, -32) -> (85.35, -48)
  line L15 (85.35, -48) -> (93.35, -56)
  line L16 (93.35, -56) -> (93.35, -8)
  line L17 (93.35, -64) -> (93.35, 0) projected
  line L18 (93.35, -56) -> (93.35, -40)
  line L19 (93.35, -64) -> (93.35, 0) projected
  point P0 (113.35, 0)
  point P1 (143.35, -40)
  point P2 (143.35, -24)
  point P3 (93.35, -24)
  dimension "d264" = 90
  dimension "d265" = 90
  dimension "d266" = 90
  dimension "d267" = 8
  dimension "d268" = 8
  dimension "d269" = 8
  dimension "d270" = 8
  dimension "d271" = 90
  dimension "d272" = 90
  dimension "d273" = 90
extrude "Extrusion31" add sketch "Sketch46" against normal blind 149 contours L12 L14 L4
extrude "Extrusion32" cut sketch "Sketch46" against normal blind 149 contours L4 L12 L13 | L15 L14 L4
equation "\"d0\" = newCaseLength"
equation "\"d1\" = caseWidth"
equation "\"d2\" = caseDepth"
equation "\"d5\" = lensLength"
equation "\"d6\" = cameraWidth"
equation "\"d7\" = cameraLength"
equation "\"d8\" = maxComponentDepth"
equation "\"d13\" = fanDepth"
equation "\"d14\" = fanWidth"
equation "\"d15\" = rearWallThickness"
equation "\"d16\" = maxComponentDepth"
equation "\"d20\" = piCaseDepth"
equation "\"d21\" = piCaseLength"
equation "\"d88\" = minDelta"
equation "\"d22\" = maxComponentDepth"
equation "\"d25\" = minDelta"
equation "\"d26\" = poeWidth"
equation "\"d27\" = poeLength"
equation "\"d28\" = maxComponentDepth"
equation "\"d36\" = thermisterLength"
equation "\"d37\" = thermisterWidth"
equation "\"d85\" = frontWallThickness"
equation "\"d38\" = maxComponentDepth"
equation "\"d42\" = sensorLength"
equation "\"d43\" = sensorWidth"
equation "\"d86\" = frontWallThickness"
equation "\"d87\" = outsideWallThickness"
equation "\"d46\" = cutoutDepth"
equation "\"outsideWallThickness\" = 10"
equation "\"caseWidth\" = piCaseLength + 2 * outsideWallThickness"
equation "\"cameraWidth\" = 54"
equation "\"oneHalfCaseDepth\" = piCaseWidth"
equation "\"caseLength\" = 189.7"
equation "\"cameraLength\" = 59"
equation "\"lensLength\" = 15.7"
equation "\"piCaseWidth\" = 63"
equation "\"piCaseDepth\" = 32"
equation "\"poeDepth\" = 38"
equation "\"piEthernetCableReliefLength\" = 35"
equation "\"poeEthernetCableReliefLength\" = 35"
equation "\"thermisterDepth\" = 18"
equation "\"sensorDepth\" = 11"
equation "\"cutoutDepth\" = 0.5 * piCaseWidth"
equation "\"thickenDistance\" = 1"
equation "\"bottomOfCaseWallThickness\" = 3"
equation "\"rearWallThickness\" = 3"
equation "\"maxComponentDepth\" = extraCutoutDepth + 0.5 * piCaseWidth"
equation "\"caseDepth\" = maxComponentDepth + bottomOfCaseWallThickness"
equation "\"minDelta\" = 16"
equation "\"fanCutoutDepth\" = 0.5 * fanLength + extraCutoutDepth + thickenDistance"
equation "\"newCaseLength\" = 222.7"
equation "\"frontWallThickness\" = 3"
equation "\"d95\" = lensDiameter"
equation "\"extraCutoutDepth\" = 15.5"
equation "\"bottomExtrusion\" = 14"
equation "\"fanDepth\" = 16"
equation "\"fanWidth\" = 62"
equation "\"piCaseLength\" = 129"
equation "\"poeWidth\" = 49"
equation "\"poeLength\" = 118"
equation "\"thermisterLength\" = 69"
equation "\"thermisterWidth\" = 28"
equation "\"sensorLength\" = 50"
equation "\"sensorWidth\" = 17"
equation "\"fanLength\" = 60"
equation "\"lensDiameter\" = 15"
properties part number "caseLowerPortionRear" material "PC/ABS Plastic"
